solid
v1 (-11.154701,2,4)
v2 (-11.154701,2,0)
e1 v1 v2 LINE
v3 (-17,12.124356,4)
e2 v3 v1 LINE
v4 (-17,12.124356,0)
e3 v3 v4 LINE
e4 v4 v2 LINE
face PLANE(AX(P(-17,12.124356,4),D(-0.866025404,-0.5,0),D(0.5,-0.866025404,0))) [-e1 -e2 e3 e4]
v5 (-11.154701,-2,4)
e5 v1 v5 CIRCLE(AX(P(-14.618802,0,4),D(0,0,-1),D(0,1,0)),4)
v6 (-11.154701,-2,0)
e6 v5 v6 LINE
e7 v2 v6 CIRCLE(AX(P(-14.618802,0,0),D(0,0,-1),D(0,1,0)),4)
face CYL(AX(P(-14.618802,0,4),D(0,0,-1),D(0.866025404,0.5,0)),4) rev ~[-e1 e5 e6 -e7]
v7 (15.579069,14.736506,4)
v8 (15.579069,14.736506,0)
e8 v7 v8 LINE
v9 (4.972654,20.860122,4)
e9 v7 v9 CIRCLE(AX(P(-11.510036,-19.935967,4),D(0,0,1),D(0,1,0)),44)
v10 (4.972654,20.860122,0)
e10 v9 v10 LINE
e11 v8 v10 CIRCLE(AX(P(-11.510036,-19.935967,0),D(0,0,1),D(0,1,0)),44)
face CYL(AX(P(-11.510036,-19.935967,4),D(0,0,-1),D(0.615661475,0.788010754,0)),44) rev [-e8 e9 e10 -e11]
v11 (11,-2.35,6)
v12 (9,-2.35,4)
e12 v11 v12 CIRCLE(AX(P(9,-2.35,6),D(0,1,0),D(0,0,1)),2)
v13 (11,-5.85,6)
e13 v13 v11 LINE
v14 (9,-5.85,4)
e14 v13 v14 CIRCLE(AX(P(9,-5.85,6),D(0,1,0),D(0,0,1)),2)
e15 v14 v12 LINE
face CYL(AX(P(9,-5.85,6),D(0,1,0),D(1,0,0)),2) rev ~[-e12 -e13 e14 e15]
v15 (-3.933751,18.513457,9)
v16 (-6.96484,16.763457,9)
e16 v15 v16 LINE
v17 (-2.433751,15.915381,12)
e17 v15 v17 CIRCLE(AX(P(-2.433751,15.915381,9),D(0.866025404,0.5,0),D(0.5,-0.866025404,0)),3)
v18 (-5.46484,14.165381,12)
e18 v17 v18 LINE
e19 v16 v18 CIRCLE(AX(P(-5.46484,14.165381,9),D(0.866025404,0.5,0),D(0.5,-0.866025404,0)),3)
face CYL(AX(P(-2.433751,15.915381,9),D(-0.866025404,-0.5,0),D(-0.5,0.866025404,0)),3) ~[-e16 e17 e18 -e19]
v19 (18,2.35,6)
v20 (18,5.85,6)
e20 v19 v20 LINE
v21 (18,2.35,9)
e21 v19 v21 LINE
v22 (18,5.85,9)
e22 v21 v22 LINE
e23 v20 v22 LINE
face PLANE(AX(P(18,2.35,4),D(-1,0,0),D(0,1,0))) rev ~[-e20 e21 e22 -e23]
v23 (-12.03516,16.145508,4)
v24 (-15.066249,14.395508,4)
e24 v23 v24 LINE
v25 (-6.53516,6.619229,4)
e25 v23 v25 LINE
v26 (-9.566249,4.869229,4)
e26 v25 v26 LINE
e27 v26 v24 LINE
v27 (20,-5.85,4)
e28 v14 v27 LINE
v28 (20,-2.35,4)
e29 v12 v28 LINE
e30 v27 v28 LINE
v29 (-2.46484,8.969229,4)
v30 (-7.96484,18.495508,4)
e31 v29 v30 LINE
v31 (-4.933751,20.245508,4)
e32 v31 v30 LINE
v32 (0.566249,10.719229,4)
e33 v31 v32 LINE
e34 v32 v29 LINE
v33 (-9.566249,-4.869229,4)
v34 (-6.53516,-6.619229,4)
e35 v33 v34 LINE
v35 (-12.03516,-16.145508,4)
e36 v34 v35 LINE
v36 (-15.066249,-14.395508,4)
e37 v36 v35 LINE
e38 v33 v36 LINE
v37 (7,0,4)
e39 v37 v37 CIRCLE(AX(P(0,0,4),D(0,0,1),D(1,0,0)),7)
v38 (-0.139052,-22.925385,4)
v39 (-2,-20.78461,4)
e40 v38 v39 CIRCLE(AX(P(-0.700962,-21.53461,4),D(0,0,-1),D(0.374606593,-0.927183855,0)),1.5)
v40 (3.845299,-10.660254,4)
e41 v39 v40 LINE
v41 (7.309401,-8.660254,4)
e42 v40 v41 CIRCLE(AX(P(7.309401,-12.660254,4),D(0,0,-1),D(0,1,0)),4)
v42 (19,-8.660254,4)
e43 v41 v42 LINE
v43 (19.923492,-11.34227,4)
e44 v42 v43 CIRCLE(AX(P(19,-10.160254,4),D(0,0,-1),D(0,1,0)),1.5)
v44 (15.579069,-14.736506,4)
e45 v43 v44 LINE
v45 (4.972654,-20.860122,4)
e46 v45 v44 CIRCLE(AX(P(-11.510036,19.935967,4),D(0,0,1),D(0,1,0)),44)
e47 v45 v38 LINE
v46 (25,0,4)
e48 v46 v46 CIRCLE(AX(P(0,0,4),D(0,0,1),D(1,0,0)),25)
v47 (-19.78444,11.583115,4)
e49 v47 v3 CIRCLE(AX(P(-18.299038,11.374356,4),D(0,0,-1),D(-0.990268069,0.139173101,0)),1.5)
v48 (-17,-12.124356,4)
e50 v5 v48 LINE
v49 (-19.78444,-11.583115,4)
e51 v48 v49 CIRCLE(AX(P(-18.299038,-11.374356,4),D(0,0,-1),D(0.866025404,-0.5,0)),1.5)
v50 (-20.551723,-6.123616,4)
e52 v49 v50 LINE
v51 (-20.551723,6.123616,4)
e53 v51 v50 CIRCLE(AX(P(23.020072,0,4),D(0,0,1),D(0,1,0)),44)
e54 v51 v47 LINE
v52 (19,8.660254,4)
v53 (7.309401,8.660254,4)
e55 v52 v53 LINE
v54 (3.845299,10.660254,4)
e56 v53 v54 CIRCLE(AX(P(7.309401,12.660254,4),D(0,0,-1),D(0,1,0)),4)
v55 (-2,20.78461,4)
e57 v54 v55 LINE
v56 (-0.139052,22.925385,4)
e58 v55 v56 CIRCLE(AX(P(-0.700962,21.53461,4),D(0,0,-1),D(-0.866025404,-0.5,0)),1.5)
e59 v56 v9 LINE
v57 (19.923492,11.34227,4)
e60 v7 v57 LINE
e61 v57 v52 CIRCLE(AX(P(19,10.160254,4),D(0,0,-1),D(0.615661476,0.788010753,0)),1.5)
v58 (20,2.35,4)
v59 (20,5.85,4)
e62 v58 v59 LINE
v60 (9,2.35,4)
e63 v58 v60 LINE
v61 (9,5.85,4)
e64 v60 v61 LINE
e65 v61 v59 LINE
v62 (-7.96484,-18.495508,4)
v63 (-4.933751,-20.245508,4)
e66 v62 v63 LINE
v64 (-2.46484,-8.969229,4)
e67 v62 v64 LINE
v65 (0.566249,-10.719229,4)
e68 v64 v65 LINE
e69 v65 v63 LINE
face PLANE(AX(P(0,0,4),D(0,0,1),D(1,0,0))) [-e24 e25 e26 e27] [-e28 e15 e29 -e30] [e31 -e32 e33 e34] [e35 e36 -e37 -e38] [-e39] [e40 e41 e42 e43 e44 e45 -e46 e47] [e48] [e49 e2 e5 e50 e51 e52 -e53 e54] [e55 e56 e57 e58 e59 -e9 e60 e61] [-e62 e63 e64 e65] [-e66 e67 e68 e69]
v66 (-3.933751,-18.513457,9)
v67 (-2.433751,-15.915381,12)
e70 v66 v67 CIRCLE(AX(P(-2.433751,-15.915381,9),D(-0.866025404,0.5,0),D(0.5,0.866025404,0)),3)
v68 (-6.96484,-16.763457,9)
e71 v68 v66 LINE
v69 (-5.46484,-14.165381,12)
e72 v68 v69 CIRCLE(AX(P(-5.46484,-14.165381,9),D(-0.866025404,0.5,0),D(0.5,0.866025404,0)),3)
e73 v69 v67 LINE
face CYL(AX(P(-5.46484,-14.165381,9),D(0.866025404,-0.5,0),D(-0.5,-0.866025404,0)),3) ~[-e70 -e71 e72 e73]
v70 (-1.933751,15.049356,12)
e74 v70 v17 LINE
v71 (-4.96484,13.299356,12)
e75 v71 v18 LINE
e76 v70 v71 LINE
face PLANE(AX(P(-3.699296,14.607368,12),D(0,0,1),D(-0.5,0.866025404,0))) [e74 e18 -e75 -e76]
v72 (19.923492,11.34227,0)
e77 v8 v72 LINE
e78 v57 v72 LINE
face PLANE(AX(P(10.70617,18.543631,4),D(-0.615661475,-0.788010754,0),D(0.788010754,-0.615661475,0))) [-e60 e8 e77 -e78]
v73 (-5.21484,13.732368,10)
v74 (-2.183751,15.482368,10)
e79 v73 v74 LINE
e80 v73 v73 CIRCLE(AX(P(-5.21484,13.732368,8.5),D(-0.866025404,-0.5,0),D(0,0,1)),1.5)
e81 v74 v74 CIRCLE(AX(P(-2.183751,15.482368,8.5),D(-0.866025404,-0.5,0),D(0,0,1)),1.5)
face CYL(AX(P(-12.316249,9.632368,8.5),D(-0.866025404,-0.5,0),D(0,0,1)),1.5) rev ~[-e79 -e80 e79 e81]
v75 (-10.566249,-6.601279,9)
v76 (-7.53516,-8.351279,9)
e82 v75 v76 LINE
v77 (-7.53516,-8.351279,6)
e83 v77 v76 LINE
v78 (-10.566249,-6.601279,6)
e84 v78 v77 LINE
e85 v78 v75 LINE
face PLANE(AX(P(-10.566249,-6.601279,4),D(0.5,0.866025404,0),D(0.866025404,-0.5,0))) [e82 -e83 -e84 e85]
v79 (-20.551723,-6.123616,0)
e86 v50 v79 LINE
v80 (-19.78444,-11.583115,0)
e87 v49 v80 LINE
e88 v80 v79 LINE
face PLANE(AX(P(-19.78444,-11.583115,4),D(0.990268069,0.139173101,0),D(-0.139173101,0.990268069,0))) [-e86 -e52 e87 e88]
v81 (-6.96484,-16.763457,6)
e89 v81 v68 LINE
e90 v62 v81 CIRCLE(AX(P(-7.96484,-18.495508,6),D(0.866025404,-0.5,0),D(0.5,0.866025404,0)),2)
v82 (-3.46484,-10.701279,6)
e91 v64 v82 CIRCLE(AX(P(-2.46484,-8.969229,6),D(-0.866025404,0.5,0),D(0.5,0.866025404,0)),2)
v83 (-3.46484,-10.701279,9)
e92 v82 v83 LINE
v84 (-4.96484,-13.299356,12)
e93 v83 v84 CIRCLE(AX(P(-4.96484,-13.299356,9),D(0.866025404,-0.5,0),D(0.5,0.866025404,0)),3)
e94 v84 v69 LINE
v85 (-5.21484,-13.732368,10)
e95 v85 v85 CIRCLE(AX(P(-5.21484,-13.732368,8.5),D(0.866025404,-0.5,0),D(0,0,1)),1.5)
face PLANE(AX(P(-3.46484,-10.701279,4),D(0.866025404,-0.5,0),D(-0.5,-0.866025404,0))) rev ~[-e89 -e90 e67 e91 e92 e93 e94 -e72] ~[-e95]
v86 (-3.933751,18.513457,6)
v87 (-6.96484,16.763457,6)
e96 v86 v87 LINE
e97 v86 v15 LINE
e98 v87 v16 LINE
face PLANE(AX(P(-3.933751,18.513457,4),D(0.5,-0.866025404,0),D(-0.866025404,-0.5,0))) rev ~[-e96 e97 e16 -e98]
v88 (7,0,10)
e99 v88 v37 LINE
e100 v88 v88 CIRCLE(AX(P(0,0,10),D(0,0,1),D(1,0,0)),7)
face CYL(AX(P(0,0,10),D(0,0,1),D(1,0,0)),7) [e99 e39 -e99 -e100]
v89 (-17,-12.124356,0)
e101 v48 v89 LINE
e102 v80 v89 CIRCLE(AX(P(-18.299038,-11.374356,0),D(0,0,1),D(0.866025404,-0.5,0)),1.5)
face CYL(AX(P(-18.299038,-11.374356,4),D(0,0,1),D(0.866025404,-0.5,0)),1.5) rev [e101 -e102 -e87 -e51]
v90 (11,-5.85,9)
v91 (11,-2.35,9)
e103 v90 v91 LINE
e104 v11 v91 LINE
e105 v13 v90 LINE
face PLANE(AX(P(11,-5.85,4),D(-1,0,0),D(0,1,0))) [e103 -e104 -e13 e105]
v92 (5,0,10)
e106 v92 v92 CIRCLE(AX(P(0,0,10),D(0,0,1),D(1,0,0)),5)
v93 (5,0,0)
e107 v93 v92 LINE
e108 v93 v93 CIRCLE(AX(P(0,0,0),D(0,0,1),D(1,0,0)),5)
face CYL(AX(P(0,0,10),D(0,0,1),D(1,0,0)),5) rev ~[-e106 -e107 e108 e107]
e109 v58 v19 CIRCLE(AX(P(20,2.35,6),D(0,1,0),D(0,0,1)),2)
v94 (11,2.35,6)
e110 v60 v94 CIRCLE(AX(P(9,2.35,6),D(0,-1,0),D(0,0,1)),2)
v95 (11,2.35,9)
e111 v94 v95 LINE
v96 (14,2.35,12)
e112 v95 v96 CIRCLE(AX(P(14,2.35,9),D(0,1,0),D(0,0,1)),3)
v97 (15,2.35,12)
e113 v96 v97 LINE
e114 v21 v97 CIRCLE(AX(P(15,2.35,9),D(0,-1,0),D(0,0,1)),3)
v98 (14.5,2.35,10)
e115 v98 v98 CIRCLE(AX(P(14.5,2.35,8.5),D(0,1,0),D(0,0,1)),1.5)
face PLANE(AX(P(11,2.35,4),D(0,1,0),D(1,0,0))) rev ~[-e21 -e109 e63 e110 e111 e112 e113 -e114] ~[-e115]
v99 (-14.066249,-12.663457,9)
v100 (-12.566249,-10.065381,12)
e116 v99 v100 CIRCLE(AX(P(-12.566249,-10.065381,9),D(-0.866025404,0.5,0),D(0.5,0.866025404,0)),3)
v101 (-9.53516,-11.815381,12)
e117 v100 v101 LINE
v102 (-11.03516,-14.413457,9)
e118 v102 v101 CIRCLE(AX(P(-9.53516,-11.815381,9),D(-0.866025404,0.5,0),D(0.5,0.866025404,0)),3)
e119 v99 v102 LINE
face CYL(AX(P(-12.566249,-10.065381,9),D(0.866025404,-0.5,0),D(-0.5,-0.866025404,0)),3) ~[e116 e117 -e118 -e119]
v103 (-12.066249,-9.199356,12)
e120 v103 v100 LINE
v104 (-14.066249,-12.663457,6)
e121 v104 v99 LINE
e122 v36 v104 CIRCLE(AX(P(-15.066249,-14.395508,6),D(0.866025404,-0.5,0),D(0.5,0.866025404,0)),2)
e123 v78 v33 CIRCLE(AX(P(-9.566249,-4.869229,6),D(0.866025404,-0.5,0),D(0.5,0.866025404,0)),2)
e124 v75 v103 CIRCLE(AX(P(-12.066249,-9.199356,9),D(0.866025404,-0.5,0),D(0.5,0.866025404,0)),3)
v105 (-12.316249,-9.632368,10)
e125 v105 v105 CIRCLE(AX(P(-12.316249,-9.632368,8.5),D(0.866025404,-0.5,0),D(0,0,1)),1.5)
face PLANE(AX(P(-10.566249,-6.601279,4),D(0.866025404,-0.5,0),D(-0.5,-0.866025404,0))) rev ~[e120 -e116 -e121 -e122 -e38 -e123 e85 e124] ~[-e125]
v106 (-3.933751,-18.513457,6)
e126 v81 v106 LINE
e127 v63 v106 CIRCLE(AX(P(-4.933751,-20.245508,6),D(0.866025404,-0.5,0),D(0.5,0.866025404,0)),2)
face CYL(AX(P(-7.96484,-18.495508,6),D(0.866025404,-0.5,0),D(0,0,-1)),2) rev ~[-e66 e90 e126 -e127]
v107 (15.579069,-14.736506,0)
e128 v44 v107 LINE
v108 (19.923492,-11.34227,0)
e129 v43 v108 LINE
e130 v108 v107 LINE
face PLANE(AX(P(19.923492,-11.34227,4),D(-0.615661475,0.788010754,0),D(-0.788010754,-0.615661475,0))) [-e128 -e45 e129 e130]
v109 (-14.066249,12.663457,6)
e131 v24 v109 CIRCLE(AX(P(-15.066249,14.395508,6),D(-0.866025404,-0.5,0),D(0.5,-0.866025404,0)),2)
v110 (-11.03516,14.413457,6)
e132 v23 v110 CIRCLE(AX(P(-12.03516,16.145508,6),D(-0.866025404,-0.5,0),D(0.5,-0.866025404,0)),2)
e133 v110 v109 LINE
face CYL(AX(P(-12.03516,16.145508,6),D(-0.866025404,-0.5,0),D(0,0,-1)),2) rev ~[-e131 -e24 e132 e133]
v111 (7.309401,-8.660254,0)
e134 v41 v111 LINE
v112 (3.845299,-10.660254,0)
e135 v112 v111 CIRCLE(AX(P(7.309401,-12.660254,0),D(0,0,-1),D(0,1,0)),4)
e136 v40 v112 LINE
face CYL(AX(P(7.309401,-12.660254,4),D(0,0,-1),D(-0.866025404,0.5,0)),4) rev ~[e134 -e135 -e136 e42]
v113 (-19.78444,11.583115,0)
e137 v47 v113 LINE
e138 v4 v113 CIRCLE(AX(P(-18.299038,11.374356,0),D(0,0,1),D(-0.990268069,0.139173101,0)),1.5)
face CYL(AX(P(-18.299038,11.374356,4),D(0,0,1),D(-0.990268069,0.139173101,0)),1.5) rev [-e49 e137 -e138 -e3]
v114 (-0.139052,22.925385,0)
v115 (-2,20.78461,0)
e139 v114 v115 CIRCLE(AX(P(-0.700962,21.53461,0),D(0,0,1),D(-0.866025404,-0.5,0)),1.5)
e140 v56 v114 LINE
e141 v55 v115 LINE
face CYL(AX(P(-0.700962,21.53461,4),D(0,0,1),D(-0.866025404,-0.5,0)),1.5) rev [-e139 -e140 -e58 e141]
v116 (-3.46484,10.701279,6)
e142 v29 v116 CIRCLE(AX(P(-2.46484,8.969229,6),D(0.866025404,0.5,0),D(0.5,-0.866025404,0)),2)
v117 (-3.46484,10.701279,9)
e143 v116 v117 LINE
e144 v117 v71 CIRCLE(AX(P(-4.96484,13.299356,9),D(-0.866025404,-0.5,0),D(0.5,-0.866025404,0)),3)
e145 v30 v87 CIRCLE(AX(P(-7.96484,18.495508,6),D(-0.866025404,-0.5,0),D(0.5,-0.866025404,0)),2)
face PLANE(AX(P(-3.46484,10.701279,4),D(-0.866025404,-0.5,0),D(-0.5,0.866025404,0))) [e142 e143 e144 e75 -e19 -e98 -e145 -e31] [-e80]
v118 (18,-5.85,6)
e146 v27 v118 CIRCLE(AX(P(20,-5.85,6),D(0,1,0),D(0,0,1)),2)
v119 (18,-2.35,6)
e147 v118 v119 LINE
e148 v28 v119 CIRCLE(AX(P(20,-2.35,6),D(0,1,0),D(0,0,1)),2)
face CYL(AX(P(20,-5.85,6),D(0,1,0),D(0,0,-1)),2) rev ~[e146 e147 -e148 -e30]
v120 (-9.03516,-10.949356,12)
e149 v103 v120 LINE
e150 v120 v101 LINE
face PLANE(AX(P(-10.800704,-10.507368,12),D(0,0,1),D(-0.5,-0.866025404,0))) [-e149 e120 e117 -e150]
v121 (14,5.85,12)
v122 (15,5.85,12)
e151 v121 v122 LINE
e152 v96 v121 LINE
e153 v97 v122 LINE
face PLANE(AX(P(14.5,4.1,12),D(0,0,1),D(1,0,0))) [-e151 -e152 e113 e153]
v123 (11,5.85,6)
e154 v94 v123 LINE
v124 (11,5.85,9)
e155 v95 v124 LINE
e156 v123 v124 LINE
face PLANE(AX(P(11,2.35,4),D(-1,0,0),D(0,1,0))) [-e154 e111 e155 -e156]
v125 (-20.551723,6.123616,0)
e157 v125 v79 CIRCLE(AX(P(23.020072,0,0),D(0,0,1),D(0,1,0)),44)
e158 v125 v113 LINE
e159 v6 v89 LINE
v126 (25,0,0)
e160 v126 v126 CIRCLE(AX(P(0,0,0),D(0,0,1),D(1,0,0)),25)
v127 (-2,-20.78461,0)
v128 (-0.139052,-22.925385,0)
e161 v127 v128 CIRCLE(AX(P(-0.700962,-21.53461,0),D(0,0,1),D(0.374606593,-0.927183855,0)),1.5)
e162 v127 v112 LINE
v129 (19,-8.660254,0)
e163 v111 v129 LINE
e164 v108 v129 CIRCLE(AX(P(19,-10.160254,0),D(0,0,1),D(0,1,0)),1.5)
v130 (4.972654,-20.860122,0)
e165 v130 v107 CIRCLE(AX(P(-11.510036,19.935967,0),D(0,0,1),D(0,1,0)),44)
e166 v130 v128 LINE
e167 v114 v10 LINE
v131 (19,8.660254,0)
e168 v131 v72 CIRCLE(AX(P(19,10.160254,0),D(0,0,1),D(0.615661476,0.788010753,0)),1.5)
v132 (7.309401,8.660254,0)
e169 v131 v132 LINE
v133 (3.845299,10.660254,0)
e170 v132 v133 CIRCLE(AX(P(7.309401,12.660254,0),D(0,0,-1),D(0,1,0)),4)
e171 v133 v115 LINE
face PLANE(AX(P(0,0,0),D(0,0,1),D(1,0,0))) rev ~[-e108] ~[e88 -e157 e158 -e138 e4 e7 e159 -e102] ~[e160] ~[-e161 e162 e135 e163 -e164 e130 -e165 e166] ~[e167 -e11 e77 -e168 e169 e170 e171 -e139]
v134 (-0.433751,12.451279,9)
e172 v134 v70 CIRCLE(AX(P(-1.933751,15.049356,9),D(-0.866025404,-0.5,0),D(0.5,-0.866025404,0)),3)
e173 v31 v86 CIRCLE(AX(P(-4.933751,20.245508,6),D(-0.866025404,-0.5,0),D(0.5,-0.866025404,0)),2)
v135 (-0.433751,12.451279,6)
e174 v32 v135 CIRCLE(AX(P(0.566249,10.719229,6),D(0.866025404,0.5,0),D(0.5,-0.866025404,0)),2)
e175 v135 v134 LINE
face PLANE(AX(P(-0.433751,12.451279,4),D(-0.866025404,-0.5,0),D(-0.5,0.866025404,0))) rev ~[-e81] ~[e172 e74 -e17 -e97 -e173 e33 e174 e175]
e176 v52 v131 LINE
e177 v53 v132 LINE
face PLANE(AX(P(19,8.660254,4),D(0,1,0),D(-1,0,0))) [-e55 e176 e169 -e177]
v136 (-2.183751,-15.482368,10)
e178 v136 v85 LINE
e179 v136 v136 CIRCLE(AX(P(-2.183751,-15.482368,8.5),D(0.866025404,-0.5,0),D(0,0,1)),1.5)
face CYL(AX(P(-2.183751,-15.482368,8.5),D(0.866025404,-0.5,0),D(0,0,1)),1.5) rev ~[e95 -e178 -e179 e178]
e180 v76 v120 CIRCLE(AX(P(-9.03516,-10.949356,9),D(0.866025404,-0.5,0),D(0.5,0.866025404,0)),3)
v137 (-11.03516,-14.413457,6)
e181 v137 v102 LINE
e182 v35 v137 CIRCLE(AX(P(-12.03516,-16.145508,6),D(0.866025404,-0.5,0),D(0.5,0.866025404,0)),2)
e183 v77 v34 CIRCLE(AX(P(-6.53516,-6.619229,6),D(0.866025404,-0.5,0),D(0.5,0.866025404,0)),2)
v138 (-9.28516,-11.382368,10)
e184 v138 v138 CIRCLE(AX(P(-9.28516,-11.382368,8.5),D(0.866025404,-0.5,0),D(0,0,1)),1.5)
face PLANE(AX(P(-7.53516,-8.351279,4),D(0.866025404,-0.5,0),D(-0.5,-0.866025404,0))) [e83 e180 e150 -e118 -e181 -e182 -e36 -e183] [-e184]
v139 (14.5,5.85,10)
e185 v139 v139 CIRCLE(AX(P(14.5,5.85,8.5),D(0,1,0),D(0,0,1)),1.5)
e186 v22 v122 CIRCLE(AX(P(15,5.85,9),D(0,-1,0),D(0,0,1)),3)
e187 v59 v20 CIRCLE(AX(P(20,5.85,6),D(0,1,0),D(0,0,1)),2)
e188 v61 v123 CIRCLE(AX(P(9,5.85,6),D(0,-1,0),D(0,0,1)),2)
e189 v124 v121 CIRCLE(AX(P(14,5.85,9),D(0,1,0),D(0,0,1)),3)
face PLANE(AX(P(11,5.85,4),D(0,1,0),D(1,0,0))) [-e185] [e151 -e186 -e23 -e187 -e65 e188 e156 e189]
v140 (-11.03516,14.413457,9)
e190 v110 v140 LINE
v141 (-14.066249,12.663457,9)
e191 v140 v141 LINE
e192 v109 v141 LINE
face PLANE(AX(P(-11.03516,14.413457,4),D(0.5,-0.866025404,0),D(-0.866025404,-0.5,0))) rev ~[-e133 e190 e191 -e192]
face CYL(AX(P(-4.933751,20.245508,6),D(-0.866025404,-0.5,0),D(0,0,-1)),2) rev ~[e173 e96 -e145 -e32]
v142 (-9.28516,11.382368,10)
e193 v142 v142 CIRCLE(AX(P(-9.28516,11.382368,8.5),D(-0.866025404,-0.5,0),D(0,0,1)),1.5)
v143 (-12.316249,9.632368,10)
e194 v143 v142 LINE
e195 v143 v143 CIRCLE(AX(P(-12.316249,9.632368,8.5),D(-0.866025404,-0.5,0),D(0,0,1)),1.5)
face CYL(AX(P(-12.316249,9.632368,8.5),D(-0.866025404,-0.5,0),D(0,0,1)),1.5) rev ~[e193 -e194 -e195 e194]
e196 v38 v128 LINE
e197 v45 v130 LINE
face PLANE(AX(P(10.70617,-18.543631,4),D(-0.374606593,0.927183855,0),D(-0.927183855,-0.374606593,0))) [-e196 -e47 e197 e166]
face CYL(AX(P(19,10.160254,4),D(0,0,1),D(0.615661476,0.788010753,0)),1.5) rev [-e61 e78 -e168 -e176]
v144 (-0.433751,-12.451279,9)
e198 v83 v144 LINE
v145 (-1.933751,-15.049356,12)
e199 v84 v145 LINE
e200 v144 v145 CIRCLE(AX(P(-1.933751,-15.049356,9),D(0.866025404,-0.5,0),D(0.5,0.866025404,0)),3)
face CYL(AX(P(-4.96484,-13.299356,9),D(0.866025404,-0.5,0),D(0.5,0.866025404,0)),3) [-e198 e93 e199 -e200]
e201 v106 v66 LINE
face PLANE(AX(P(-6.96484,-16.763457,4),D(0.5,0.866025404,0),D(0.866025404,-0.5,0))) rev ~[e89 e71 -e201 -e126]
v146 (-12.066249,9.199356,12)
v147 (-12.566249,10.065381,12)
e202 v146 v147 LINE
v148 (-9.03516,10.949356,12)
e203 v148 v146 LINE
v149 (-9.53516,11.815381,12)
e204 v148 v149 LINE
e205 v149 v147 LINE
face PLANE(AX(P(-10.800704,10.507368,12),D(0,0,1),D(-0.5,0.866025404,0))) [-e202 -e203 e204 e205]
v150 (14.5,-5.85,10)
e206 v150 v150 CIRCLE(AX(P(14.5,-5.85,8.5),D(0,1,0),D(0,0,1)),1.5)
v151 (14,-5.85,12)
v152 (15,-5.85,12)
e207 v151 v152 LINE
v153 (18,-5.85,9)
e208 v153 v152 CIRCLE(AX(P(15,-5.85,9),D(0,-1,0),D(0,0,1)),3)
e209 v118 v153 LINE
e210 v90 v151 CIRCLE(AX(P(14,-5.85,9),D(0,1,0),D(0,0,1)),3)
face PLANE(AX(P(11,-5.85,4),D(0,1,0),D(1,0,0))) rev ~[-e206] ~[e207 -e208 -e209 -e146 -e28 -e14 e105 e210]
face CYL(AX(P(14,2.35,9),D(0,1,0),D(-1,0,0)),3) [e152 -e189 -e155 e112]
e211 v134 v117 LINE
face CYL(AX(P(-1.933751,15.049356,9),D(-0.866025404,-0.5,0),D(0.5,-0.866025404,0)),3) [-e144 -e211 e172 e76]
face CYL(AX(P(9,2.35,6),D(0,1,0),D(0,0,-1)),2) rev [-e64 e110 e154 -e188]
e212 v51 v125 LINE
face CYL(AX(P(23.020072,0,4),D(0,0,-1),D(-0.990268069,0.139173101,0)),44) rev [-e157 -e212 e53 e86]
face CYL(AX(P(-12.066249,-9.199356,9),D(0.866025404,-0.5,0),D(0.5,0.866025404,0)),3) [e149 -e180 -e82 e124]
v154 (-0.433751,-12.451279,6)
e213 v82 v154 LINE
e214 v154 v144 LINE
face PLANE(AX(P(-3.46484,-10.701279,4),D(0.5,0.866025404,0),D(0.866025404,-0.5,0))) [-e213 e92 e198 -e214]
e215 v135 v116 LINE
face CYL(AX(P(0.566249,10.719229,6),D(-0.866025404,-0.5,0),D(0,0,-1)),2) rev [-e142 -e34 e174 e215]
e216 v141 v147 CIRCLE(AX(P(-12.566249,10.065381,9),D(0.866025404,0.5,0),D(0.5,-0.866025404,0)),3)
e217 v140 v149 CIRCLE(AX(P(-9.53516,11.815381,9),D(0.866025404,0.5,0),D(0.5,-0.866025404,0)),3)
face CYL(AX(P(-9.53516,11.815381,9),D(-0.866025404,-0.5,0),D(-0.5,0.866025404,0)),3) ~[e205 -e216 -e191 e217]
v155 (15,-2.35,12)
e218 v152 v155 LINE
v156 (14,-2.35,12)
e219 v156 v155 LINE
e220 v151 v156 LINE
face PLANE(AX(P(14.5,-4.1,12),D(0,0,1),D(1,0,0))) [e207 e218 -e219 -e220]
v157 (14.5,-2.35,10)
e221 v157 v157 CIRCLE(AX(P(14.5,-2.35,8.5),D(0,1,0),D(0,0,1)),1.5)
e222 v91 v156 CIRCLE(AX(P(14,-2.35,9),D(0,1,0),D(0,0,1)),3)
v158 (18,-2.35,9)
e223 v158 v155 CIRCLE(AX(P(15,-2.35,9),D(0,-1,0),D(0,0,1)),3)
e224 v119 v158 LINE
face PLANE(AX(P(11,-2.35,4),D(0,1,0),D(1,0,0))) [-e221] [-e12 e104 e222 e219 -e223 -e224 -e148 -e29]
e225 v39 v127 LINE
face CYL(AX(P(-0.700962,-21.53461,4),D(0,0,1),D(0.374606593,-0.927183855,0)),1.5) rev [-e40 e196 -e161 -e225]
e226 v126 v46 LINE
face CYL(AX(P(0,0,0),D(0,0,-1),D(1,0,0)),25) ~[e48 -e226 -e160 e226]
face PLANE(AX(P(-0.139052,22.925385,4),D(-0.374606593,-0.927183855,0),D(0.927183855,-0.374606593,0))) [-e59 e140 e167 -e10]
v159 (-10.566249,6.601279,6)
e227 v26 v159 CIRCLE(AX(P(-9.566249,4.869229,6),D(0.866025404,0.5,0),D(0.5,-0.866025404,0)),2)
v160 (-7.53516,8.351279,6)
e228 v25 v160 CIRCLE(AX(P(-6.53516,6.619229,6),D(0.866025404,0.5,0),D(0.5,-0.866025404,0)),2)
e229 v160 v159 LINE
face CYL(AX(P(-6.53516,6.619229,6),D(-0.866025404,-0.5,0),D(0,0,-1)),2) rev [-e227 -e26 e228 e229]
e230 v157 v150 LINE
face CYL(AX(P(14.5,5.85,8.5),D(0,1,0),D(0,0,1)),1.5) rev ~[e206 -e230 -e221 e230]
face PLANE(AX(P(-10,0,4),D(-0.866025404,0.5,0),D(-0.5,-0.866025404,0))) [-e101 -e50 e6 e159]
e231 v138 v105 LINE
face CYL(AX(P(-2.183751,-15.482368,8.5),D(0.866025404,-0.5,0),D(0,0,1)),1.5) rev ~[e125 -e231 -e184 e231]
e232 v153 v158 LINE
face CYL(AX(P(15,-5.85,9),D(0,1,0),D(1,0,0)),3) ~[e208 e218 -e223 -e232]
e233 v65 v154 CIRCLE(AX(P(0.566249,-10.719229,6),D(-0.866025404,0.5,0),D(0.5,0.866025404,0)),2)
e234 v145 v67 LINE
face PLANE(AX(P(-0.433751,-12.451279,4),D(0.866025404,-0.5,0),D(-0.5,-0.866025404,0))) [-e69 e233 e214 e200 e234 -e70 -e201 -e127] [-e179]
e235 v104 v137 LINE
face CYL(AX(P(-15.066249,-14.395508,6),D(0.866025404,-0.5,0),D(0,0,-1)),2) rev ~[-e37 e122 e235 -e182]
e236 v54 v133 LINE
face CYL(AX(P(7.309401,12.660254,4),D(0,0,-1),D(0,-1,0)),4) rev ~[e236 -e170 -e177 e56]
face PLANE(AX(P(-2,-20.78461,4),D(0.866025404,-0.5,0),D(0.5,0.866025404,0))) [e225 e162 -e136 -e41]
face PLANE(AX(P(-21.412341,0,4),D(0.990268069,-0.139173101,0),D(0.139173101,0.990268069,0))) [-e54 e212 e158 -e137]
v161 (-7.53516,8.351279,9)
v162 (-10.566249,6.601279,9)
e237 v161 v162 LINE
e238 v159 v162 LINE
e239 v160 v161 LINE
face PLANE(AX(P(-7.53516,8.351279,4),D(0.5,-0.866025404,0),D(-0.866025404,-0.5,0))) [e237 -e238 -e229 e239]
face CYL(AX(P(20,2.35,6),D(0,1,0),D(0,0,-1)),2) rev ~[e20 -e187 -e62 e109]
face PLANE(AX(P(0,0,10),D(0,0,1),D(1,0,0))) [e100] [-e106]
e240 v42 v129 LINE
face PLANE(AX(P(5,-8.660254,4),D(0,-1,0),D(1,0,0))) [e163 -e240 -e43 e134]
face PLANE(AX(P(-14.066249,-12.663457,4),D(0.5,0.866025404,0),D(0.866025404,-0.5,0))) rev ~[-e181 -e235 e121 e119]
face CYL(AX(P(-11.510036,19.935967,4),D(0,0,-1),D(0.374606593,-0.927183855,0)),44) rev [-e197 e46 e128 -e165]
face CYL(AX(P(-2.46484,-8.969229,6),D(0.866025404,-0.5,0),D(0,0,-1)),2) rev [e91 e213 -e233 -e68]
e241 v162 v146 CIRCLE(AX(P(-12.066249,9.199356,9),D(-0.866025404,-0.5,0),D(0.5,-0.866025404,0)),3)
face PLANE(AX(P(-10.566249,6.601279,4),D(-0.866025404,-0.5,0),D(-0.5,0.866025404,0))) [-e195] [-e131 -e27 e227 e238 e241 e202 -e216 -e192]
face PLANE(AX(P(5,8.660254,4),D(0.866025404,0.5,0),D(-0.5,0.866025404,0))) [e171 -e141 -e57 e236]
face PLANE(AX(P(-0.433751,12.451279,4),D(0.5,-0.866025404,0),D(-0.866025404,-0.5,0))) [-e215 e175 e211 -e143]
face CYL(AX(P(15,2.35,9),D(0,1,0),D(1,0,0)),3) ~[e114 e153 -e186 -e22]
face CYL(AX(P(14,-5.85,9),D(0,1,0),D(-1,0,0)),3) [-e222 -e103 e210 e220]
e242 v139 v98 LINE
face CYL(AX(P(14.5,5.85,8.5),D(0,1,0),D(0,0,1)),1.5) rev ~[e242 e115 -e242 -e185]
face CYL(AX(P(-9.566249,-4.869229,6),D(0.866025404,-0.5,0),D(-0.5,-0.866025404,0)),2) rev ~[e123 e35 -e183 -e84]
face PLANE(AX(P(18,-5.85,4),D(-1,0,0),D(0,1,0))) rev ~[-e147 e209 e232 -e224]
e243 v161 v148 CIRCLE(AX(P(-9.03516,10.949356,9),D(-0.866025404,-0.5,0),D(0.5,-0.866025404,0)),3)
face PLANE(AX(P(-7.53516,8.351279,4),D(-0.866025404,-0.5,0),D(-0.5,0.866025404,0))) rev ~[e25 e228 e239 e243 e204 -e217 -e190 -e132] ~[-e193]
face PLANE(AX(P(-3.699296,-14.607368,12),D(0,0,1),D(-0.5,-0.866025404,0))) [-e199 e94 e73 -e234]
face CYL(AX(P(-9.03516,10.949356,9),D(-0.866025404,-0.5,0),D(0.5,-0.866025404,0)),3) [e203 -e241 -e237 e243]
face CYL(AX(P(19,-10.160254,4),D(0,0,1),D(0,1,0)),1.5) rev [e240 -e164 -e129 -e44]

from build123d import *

# Parameters (mm, degrees)
SKETCH1_R                = 25
BOSS_EXTRUDE1_DEPTH      = 4
SKETCH2_R                = 5
CUT_EXTRUDE1_DEPTH       = 36.580893749
SKETCH3_W                = 7
SKETCH3_H                = 3.5
BOSS_EXTRUDE2_DEPTH      = 8
FILLET1_R                = 3
SKETCH4_R                = 1.5
CUT_EXTRUDE2_DEPTH       = 42.481592303
FILLET2_R                = 2
CIRPATTERN1_COUNT        = 3
FILLET1_OF_CIRPATTERN1_R = 3
FILLET2_OF_CIRPATTERN1_R = 2
BOSS_EXTRUDE3_START      = 6
SKETCH5_R                = 7
SKETCH5_R_2              = 5
BOSS_EXTRUDE3_DEPTH      = 6
CUT_EXTRUDE3_DEPTH       = 37.249137921
FILLET3_R                = 4
FILLET4_R                = 44
CIRPATTERN2_COUNT        = 3
FILLET3_OF_CIRPATTERN2_R = 4
FILLET4_OF_CIRPATTERN2_R = 44


with BuildPart() as part:
    # Sketch1 → Boss-Extrude1 (new body)
    with BuildSketch(Plane.XY):
        Circle(SKETCH1_R)
    extrude(amount=BOSS_EXTRUDE1_DEPTH)

    # Sketch2 → Cut-Extrude1 (cut, through all)
    with BuildSketch(Plane.XY.offset(4)):
        Circle(SKETCH2_R)
    extrude(amount=-CUT_EXTRUDE1_DEPTH, mode=Mode.SUBTRACT)

    # Sketch3 → Boss-Extrude2 (add)
    with BuildSketch(Plane.XY.offset(4)):
        with Locations((14.5, -4.1)):
            Rectangle(SKETCH3_W, SKETCH3_H)
        with Locations((14.5, 4.1)):
            Rectangle(SKETCH3_W, SKETCH3_H)
    boss_extrude2 = extrude(amount=BOSS_EXTRUDE2_DEPTH)

    # Fillet1
    fillet1_edges = [part.edges().sort_by_distance(p)[0] for p in [
        (11, 4.1, 12),
        (18, 4.1, 12),
        (11, -4.1, 12),
        (18, -4.1, 12),
    ]]
    fillet(fillet1_edges, radius=FILLET1_R)

    # Sketch4 → Cut-Extrude2 (cut, through all)
    with BuildSketch(Plane(origin=(0, 5.85, 0), x_dir=(1, 0, 0), z_dir=(0, 1, 0))):
        with Locations(Location((14.5, -8.5, 0), (0, 0, 270))):
            Circle(SKETCH4_R)
    cut_extrude2 = extrude(amount=-CUT_EXTRUDE2_DEPTH, mode=Mode.SUBTRACT)

    # Fillet2
    fillet2_edges = [part.edges().sort_by_distance(p)[0] for p in [
        (11, 4.1, 4),
        (18, 4.1, 4),
        (11, -4.1, 4),
        (18, -4.1, 4),
    ]]
    fillet(fillet2_edges, radius=FILLET2_R)

    # CirPattern1: Boss-Extrude2, Cut-Extrude2 ×3 about axis
    cirpattern1_axis = Axis((0, 0, 0), (0, 0, 1))
    add([boss_extrude2.rotate(cirpattern1_axis, i * 360 / CIRPATTERN1_COUNT) for i in range(1, CIRPATTERN1_COUNT)])
    add([cut_extrude2.rotate(cirpattern1_axis, i * 360 / CIRPATTERN1_COUNT) for i in range(1, CIRPATTERN1_COUNT)], mode=Mode.SUBTRACT)

    # Fillet1 of CirPattern1
    fillet1_of_cirpattern1_edges = [part.edges().sort_by_distance(p)[0] for p in [
        (-9.050704156, 7.476279442, 12),
        (-12.550704156, 13.538457268, 12),
        (-1.949295844, 11.576279442, 12),
        (-5.449295844, 17.638457268, 12),
        (-1.949295844, -11.576279442, 12),
        (-5.449295844, -17.638457268, 12),
        (-9.050704156, -7.476279442, 12),
        (-12.550704156, -13.538457268, 12),
    ]]
    fillet(fillet1_of_cirpattern1_edges, radius=FILLET1_OF_CIRPATTERN1_R)

    # Fillet2 of CirPattern1
    fillet2_of_cirpattern1_edges = [part.edges().sort_by_distance(p)[0] for p in [
        (-9.050704156, 7.476279442, 4),
        (-12.550704156, 13.538457268, 4),
        (-1.949295844, 11.576279442, 4),
        (-5.449295844, 17.638457268, 4),
        (-1.949295844, -11.576279442, 4),
        (-5.449295844, -17.638457268, 4),
        (-9.050704156, -7.476279442, 4),
        (-12.550704156, -13.538457268, 4),
    ]]
    fillet(fillet2_of_cirpattern1_edges, radius=FILLET2_OF_CIRPATTERN1_R)

    # Sketch5 → Boss-Extrude3 (add)
    with BuildSketch(Plane.XY.offset(4).offset(BOSS_EXTRUDE3_START)):
        Circle(SKETCH5_R)
        Circle(SKETCH5_R_2, mode=Mode.SUBTRACT)
    extrude(amount=-BOSS_EXTRUDE3_DEPTH)

    # Sketch6 → Cut-Extrude3 (cut, through all)
    with BuildSketch(Plane.XY.offset(4)):
        with BuildLine():
            Line((5, 8.660254038), (-2, 20.784609691))
            ThreePointArc((-2, 20.784609691), (-1.833026265, 22.518698234), (-0.139052004, 22.925385473))
            Line((-0.139052004, 22.925385473), (10.706170451, 18.543631176))
            Line((10.706170451, 18.543631176), (19.923492213, 11.342270168))
            ThreePointArc((19.923492213, 11.342270168), (20.418277863, 9.671901806), (19, 8.660254038))
            Line((19, 8.660254038), (5, 8.660254038))
        make_face()
    cut_extrude3 = extrude(amount=-CUT_EXTRUDE3_DEPTH, mode=Mode.SUBTRACT)

    # Fillet3
    fillet3_edges = [part.edges().sort_by_distance(p)[0] for p in [
        (5, 8.660254038, 2),
    ]]
    fillet(fillet3_edges, radius=FILLET3_R)

    # Fillet4
    fillet4_edges = [part.edges().sort_by_distance(p)[0] for p in [
        (10.706170451, 18.543631176, 2),
    ]]
    fillet(fillet4_edges, radius=FILLET4_R)

    # CirPattern2: Cut-Extrude3 ×3 about axis
    cirpattern2_axis = Axis((0, 0, 0), (0, 0, 1))
    for i in range(1, CIRPATTERN2_COUNT):
        add(cut_extrude3.rotate(cirpattern2_axis, i * 360 / CIRPATTERN2_COUNT), mode=Mode.SUBTRACT)

    # Fillet3 of CirPattern2
    fillet3_of_cirpattern2_edges = [part.edges().sort_by_distance(p)[0] for p in [
        (-10, 0, 2),
        (5, -8.660254038, 2),
    ]]
    fillet(fillet3_of_cirpattern2_edges, radius=FILLET3_OF_CIRPATTERN2_R)

    # Fillet4 of CirPattern2
    fillet4_of_cirpattern2_edges = [part.edges().sort_by_distance(p)[0] for p in [
        (-21.412340902, 0, 2),
        (10.706170451, -18.543631176, 2),
    ]]
    fillet(fillet4_of_cirpattern2_edges, radius=FILLET4_OF_CIRPATTERN2_R)


solid = part.part
